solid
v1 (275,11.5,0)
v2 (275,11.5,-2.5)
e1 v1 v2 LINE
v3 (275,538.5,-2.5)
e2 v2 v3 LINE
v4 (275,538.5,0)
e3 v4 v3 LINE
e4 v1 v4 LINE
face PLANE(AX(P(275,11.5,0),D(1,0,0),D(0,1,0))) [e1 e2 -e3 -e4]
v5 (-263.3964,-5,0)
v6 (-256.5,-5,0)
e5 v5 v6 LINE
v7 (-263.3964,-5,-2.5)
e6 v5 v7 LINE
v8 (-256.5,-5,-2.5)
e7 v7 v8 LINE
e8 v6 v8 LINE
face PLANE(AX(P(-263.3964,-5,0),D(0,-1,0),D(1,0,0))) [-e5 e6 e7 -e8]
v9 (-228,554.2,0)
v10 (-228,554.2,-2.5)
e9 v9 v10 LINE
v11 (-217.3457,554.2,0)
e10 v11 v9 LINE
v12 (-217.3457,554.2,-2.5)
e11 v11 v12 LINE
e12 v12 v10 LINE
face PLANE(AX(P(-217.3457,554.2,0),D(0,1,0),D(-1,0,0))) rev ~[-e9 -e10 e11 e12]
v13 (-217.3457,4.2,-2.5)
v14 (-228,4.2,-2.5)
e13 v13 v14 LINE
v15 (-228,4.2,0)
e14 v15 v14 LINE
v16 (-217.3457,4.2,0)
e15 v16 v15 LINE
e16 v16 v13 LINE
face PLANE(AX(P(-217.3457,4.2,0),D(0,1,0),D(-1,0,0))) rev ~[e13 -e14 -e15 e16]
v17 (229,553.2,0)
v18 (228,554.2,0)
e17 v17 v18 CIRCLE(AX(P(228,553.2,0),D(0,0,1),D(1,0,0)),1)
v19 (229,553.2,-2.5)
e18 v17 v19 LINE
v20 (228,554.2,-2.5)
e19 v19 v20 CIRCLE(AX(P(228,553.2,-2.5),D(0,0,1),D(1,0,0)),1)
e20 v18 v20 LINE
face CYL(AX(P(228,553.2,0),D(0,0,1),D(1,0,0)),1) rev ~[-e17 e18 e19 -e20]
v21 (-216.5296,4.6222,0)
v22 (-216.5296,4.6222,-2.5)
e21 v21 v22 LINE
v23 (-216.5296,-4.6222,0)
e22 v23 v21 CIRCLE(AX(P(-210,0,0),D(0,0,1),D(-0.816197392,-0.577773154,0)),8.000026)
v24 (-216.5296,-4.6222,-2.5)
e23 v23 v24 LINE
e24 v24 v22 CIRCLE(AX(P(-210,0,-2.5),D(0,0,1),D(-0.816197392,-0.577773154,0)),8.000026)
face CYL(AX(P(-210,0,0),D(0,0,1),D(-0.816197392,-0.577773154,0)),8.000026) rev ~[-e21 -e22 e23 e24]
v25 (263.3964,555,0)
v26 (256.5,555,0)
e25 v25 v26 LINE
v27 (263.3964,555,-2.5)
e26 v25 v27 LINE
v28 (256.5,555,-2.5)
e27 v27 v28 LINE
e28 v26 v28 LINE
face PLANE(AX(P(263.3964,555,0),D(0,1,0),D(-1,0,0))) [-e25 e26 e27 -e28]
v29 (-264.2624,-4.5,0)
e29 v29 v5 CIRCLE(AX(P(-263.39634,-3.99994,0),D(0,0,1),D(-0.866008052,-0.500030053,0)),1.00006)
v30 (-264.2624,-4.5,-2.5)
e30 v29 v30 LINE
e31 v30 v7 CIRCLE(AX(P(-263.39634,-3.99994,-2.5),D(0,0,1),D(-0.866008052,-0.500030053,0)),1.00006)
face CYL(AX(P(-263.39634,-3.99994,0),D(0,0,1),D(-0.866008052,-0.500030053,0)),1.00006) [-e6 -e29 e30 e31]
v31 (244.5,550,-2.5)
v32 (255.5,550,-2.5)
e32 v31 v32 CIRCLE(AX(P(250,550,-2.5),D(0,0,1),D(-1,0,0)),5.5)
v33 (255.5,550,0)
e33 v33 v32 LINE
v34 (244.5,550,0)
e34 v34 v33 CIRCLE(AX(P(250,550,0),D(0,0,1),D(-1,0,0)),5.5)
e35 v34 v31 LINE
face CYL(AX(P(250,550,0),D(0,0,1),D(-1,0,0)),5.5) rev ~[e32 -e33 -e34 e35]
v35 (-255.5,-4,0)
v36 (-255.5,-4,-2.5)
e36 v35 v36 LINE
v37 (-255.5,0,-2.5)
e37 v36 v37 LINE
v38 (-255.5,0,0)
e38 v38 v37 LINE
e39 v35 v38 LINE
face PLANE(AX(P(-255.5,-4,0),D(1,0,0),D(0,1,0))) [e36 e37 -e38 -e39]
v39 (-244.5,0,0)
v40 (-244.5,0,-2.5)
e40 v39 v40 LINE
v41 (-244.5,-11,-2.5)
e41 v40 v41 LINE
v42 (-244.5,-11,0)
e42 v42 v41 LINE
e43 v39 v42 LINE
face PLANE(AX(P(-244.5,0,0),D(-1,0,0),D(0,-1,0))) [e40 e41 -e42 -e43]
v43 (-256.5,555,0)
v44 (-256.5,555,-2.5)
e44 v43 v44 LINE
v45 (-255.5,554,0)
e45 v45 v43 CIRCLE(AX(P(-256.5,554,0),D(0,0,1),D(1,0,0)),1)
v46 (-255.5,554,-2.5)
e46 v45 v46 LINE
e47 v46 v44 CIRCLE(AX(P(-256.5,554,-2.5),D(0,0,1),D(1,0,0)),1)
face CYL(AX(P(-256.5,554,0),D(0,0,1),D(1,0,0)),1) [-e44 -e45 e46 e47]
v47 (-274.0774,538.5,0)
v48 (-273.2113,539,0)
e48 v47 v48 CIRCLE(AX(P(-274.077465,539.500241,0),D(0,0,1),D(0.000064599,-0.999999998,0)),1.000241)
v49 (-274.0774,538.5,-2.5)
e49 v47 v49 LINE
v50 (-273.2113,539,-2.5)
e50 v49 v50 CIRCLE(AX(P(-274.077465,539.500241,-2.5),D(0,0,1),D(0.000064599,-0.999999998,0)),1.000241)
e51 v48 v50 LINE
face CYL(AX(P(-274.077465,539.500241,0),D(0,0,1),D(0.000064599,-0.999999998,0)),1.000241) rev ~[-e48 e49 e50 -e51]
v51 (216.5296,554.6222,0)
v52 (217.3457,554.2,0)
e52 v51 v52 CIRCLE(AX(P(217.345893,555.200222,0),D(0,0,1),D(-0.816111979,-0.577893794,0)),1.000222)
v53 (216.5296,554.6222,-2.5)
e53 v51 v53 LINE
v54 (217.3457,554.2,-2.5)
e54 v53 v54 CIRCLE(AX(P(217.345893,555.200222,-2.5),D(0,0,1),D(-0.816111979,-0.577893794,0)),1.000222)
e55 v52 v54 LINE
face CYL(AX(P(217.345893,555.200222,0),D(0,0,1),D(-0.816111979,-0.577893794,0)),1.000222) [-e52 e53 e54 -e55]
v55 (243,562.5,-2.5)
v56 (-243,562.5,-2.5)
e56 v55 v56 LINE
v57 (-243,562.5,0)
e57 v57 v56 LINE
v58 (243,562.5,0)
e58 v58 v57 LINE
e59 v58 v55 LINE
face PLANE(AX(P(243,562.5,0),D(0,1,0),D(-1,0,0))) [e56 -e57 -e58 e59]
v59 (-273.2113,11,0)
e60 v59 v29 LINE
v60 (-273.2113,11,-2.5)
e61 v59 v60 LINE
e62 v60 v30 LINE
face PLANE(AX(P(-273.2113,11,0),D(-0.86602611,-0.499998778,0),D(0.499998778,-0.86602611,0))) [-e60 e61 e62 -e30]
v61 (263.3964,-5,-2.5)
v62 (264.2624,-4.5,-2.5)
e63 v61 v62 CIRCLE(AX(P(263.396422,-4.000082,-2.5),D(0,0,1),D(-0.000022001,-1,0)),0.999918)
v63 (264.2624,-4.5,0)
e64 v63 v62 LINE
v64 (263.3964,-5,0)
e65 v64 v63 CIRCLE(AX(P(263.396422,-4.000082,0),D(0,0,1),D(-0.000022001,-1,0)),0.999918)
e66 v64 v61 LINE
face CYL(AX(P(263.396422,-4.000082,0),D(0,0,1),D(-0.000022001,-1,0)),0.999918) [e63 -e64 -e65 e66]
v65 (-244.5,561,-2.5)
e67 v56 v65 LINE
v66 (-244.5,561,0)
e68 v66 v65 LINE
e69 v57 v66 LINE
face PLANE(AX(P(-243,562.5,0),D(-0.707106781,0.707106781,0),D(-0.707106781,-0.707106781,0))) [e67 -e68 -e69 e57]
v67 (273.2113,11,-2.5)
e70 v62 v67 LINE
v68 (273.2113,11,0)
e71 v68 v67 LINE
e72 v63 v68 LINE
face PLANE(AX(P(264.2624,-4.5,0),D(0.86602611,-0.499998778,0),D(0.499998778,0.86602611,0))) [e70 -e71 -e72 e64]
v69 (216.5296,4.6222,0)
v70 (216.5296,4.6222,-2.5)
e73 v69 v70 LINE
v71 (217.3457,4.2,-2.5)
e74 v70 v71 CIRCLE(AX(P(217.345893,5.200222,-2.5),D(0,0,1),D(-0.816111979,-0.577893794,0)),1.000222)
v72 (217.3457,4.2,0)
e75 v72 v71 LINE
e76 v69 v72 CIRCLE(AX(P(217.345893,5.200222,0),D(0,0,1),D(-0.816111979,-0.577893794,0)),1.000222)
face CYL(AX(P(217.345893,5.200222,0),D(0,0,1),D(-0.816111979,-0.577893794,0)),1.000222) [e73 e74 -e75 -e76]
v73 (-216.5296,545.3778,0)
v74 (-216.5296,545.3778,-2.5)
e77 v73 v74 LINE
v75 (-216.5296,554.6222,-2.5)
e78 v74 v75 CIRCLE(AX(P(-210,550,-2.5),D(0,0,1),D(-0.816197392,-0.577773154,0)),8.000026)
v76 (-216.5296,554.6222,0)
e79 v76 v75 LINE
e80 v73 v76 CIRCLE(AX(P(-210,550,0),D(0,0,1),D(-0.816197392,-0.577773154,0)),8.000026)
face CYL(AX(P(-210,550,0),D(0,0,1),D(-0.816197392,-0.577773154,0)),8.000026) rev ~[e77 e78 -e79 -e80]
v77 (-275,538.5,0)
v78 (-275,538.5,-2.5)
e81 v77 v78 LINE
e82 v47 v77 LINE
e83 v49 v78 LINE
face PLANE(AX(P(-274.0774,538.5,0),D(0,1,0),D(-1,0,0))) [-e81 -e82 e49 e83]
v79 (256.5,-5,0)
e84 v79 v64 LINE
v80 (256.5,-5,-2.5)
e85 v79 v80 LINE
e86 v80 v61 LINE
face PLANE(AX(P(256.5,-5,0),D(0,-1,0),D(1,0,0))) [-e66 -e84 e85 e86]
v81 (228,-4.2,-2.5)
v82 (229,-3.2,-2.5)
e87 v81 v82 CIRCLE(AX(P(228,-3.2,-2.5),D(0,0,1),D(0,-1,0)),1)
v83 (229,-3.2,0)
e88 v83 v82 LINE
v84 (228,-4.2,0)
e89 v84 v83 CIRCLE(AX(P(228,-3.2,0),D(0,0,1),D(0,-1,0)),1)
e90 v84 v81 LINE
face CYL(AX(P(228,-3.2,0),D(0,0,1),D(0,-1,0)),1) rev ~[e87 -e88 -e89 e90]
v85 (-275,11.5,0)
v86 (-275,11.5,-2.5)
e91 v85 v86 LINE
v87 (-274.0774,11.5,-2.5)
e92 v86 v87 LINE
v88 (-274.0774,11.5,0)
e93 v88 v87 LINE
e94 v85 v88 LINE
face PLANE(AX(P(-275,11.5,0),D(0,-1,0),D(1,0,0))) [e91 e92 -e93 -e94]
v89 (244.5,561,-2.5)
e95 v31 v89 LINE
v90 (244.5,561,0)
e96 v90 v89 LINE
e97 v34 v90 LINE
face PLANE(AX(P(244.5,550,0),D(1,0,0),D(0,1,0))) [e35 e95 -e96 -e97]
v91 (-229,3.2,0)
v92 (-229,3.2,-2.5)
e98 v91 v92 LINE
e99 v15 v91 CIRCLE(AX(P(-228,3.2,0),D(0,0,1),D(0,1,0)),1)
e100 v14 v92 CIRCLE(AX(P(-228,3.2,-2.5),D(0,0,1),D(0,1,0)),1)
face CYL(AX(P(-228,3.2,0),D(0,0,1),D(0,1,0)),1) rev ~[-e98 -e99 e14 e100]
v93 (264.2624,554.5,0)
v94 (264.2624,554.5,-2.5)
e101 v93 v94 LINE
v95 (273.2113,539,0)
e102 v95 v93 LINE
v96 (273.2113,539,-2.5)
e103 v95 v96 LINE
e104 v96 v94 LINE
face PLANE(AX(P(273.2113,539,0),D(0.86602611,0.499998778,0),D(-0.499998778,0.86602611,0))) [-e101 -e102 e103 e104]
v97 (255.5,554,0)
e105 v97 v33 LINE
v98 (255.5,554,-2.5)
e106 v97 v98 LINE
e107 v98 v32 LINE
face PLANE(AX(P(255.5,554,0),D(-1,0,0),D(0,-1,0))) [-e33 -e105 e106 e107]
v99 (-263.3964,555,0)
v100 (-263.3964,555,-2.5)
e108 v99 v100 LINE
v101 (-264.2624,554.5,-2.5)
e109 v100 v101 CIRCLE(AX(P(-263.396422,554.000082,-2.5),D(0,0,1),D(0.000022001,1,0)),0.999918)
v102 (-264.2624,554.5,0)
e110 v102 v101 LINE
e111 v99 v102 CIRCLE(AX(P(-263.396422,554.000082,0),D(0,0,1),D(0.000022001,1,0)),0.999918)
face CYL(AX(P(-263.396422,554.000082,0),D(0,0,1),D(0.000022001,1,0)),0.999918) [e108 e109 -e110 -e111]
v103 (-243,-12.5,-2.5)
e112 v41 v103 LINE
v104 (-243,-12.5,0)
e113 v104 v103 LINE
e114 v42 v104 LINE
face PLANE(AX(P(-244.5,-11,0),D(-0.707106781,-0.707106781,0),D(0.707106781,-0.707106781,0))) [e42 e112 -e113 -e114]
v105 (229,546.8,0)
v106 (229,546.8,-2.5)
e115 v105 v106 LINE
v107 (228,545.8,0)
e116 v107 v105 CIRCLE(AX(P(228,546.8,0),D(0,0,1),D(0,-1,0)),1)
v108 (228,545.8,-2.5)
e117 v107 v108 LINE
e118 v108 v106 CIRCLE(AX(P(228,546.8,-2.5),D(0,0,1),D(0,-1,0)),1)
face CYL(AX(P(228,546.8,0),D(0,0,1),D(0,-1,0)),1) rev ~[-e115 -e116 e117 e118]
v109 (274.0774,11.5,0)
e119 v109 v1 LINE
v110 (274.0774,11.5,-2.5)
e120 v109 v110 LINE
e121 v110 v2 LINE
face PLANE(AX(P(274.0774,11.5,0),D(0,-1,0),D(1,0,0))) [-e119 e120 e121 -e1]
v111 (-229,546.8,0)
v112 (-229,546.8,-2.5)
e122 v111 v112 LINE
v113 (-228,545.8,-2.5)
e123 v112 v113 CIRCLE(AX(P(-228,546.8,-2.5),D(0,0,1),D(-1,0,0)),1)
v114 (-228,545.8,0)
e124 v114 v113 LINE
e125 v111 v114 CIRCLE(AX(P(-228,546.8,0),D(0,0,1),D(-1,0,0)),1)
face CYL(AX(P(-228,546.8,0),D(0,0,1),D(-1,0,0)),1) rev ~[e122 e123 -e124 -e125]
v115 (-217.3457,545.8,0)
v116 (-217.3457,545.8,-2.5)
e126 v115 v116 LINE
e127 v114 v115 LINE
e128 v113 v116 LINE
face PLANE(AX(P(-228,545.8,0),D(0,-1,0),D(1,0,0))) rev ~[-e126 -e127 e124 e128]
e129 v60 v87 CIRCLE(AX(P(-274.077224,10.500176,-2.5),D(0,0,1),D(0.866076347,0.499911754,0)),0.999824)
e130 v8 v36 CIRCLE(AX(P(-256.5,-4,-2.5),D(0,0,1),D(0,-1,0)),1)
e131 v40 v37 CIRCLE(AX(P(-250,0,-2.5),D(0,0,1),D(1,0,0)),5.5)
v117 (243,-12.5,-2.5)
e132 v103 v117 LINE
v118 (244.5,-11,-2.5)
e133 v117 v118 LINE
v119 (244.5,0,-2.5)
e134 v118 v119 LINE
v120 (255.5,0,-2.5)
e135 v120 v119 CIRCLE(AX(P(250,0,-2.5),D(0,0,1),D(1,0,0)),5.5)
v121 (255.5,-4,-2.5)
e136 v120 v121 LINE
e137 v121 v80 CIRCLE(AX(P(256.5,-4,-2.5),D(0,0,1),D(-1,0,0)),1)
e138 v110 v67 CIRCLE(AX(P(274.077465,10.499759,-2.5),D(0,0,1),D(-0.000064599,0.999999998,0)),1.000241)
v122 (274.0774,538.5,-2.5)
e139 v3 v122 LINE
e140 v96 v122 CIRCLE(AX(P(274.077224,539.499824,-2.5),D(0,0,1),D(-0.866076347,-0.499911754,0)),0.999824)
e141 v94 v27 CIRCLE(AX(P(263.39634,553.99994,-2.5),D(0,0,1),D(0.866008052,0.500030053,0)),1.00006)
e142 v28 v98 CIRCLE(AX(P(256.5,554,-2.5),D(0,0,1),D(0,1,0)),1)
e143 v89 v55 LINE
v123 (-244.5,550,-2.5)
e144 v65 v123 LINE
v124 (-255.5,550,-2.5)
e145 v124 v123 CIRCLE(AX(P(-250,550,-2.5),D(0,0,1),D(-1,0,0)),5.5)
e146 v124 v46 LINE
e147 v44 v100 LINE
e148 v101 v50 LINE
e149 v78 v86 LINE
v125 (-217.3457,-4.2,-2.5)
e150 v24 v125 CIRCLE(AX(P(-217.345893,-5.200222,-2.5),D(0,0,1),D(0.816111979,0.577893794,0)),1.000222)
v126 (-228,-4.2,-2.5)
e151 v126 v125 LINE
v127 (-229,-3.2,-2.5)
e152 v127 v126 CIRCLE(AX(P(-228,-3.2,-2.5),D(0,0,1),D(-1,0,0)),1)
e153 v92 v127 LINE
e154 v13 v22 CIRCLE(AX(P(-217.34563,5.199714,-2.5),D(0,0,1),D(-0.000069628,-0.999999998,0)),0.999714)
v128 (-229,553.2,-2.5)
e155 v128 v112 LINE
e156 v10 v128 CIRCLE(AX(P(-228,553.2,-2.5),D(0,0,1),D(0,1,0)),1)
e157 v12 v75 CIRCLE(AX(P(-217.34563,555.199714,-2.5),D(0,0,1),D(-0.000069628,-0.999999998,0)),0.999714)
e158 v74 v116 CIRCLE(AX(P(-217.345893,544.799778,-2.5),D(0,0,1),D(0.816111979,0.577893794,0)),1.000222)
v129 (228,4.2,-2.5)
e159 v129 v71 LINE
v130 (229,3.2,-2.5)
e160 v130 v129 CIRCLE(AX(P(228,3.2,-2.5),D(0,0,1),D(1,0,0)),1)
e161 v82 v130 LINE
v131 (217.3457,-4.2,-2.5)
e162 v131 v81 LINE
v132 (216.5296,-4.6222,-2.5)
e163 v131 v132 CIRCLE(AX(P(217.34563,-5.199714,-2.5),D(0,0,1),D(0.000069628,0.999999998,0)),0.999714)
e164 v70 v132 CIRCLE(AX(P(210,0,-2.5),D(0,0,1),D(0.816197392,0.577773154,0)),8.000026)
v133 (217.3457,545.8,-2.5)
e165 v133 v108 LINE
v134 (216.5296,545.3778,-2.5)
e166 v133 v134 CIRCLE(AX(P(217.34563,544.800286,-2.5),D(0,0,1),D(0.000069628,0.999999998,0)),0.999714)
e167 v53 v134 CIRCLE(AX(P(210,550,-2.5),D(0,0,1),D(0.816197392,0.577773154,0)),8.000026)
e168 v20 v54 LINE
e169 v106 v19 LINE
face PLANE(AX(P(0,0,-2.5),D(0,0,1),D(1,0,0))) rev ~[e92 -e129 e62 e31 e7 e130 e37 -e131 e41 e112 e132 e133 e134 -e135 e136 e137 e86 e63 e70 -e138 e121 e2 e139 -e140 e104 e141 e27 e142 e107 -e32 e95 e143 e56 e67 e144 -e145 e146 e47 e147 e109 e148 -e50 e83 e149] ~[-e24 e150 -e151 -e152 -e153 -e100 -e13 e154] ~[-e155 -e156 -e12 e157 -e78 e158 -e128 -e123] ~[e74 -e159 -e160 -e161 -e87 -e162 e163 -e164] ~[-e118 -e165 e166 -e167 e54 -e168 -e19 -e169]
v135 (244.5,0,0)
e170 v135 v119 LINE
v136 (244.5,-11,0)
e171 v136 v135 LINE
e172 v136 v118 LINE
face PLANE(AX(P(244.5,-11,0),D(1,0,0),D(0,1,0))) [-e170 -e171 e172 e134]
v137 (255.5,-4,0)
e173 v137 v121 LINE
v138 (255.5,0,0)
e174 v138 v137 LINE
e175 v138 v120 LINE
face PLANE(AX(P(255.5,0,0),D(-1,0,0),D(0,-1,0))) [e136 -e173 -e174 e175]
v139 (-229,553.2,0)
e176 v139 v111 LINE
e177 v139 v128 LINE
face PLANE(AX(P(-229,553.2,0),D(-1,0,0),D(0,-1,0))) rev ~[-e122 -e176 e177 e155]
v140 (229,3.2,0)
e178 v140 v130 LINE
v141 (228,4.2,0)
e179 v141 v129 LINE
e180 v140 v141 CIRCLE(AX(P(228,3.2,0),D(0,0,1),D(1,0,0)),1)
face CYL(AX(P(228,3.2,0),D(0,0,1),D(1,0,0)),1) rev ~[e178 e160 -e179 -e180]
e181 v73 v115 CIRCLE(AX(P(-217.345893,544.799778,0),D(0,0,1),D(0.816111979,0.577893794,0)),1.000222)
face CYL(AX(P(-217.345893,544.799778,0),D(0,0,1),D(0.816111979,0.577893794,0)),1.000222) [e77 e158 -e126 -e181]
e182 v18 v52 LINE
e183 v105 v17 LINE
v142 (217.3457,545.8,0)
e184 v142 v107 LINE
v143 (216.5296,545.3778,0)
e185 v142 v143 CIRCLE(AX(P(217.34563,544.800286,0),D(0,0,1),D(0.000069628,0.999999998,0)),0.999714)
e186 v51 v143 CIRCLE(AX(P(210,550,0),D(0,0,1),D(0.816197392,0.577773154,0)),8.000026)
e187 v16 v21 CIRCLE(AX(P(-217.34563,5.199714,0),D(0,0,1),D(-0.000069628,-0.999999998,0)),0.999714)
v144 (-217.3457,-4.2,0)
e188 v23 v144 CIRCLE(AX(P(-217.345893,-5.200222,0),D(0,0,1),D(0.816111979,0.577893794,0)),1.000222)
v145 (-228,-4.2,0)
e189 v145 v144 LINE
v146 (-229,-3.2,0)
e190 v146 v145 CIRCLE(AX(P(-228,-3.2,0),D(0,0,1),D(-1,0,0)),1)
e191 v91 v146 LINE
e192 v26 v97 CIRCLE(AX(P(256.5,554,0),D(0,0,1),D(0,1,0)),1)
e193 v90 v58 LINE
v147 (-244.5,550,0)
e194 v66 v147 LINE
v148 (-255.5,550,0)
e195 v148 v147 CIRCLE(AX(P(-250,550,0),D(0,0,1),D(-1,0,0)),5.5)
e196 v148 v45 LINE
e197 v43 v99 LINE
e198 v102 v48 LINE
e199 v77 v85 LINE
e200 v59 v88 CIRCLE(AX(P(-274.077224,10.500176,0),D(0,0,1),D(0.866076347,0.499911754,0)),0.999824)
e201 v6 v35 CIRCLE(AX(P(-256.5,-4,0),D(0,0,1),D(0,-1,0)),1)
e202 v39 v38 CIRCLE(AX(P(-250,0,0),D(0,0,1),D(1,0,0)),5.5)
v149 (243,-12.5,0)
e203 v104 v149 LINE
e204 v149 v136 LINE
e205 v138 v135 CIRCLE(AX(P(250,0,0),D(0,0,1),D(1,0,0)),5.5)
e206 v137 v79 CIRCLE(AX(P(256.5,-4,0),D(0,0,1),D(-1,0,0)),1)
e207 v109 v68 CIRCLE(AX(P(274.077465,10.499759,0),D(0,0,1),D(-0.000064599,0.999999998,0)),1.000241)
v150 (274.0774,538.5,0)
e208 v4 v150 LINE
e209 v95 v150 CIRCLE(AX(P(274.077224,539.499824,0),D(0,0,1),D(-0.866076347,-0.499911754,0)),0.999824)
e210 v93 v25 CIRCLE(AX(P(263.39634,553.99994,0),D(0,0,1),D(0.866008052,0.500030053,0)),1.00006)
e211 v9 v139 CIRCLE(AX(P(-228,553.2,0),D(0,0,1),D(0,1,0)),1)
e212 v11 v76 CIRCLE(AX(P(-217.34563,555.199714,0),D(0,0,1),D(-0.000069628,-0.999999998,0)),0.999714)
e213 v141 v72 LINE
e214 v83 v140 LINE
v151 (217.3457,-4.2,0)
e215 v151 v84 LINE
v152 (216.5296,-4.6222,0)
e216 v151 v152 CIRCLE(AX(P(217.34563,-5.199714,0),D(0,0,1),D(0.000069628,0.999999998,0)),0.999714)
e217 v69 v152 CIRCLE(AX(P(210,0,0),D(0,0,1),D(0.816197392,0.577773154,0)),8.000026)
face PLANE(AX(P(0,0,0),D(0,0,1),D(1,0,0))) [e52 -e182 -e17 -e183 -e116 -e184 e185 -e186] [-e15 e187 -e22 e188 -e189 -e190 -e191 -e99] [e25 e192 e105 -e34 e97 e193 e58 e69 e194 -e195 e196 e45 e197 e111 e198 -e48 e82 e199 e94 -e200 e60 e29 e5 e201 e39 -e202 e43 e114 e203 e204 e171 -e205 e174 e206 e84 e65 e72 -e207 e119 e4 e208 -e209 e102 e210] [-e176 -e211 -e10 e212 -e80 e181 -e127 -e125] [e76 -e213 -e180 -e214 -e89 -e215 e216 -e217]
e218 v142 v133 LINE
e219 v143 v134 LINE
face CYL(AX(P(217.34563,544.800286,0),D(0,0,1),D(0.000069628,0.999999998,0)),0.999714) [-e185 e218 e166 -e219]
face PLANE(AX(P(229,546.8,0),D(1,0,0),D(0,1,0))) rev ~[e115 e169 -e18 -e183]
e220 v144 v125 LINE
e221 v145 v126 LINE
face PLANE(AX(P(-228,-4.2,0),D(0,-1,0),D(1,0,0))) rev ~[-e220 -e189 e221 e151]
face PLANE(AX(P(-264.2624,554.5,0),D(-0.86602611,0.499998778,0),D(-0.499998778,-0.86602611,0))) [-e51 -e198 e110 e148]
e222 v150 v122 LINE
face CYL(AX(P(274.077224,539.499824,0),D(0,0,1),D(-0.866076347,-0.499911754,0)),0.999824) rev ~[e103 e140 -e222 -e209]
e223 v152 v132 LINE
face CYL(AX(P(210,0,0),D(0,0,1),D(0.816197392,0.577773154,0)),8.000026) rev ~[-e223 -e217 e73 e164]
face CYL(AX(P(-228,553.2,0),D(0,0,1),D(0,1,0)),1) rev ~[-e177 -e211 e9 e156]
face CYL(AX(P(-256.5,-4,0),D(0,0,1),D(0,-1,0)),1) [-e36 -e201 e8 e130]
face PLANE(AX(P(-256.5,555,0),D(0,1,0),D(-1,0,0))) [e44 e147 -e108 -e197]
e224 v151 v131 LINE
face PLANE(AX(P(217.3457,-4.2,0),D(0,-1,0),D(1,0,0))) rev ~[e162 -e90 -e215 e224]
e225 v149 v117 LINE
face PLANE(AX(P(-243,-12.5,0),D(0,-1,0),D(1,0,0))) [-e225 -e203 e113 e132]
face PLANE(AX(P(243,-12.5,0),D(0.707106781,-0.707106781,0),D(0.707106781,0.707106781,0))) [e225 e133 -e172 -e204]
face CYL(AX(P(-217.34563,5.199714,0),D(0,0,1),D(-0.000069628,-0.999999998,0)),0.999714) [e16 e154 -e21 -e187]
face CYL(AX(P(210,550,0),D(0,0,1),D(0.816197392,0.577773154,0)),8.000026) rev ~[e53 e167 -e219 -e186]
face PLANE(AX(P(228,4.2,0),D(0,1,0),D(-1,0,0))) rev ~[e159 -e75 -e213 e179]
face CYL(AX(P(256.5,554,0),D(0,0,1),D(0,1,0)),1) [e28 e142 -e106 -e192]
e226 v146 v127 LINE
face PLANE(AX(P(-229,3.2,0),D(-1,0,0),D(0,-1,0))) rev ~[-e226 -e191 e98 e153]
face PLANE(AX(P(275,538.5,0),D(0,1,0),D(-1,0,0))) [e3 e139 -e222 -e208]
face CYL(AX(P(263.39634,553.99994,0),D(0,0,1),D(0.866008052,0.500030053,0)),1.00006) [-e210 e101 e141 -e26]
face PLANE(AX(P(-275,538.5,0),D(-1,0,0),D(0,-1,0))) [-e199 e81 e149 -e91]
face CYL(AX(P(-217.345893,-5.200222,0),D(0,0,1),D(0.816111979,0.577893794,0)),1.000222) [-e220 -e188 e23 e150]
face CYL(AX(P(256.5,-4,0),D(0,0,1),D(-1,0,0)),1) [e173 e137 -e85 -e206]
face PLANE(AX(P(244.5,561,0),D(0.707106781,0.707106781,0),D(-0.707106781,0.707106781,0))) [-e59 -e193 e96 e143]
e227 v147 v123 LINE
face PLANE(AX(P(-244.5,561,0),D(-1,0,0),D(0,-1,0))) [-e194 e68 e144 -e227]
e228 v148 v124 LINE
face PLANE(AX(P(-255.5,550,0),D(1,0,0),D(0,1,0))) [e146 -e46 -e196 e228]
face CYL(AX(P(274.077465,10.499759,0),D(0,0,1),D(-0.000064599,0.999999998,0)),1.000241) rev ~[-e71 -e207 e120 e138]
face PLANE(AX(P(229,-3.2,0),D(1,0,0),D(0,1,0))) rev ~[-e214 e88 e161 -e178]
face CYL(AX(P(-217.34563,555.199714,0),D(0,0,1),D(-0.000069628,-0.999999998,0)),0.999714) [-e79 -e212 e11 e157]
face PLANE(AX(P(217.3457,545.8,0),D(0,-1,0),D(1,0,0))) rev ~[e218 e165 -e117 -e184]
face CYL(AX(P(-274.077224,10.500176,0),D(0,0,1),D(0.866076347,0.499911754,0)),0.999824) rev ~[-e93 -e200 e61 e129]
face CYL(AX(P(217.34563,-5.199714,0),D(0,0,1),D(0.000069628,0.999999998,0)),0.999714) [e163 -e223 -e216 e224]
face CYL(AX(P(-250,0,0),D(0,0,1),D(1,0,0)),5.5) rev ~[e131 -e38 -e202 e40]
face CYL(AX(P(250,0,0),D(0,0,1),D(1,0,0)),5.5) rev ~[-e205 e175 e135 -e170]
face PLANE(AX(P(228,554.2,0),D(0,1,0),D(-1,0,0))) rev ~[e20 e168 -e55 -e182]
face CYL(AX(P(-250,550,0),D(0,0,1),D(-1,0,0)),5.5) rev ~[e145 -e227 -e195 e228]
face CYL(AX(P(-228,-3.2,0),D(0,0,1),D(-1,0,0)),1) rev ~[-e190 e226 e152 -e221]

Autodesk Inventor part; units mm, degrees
sketch "Sketch_11" plane through (0, 0, 0) normal (0, 0, 1) x (1, 0, 0)
  line L0 (-275, 538.5) -> (-275, 11.5)
  line L1 (-275, 11.5) -> (-274.0774, 11.5)
  arc A0 (-273.2113, 11) -> (-274.0774, 11.5) centre (-274.0774, 10.5) ccw
  line L2 (-273.2113, 11) -> (-264.2624, -4.5)
  arc A1 (-264.2624, -4.5) -> (-263.3964, -5) centre (-263.3964, -4) ccw
  line L3 (-263.3964, -5) -> (-256.5, -5)
  arc A2 (-256.5, -5) -> (-255.5, -4) centre (-256.5, -4) ccw
  line L4 (-255.5, -4) -> (-255.5, 0)
  arc A3 (-244.5, 0) -> (-255.5, 0) centre (-250, 0) ccw
  line L5 (-244.5, 0) -> (-244.5, -11)
  line L6 (-244.5, -11) -> (-243, -12.5)
  line L7 (-243, -12.5) -> (243, -12.5)
  line L8 (243, -12.5) -> (244.5, -11)
  line L9 (244.5, -11) -> (244.5, 0)
  arc A4 (255.5, 0) -> (244.5, 0) centre (250, 0) ccw
  line L10 (255.5, 0) -> (255.5, -4)
  arc A5 (255.5, -4) -> (256.5, -5) centre (256.5, -4) ccw
  line L11 (256.5, -5) -> (263.3964, -5)
  arc A6 (263.3964, -5) -> (264.2624, -4.5) centre (263.3964, -4) ccw
  line L12 (264.2624, -4.5) -> (273.2113, 11)
  arc A7 (274.0774, 11.5) -> (273.2113, 11) centre (274.0774, 10.5) ccw
  line L13 (274.0774, 11.5) -> (275, 11.5)
  line L14 (275, 11.5) -> (275, 538.5)
  line L15 (275, 538.5) -> (274.0774, 538.5)
  arc A8 (273.2113, 539) -> (274.0774, 538.5) centre (274.0774, 539.5) ccw
  line L16 (273.2113, 539) -> (264.2624, 554.5)
  arc A9 (264.2624, 554.5) -> (263.3964, 555) centre (263.3964, 554) ccw
  line L17 (263.3964, 555) -> (256.5, 555)
  arc A10 (256.5, 555) -> (255.5, 554) centre (256.5, 554) ccw
  line L18 (255.5, 554) -> (255.5, 550)
  arc A11 (244.5, 550) -> (255.5, 550) centre (250, 550) ccw
  line L19 (244.5, 550) -> (244.5, 561)
  line L20 (244.5, 561) -> (243, 562.5)
  line L21 (243, 562.5) -> (-243, 562.5)
  line L22 (-243, 562.5) -> (-244.5, 561)
  line L23 (-244.5, 561) -> (-244.5, 550)
  arc A12 (-255.5, 550) -> (-244.5, 550) centre (-250, 550) ccw
  line L24 (-255.5, 550) -> (-255.5, 554)
  arc A13 (-255.5, 554) -> (-256.5, 555) centre (-256.5, 554) ccw
  line L25 (-256.5, 555) -> (-263.3964, 555)
  arc A14 (-263.3964, 555) -> (-264.2624, 554.5) centre (-263.3964, 554) ccw
  line L26 (-264.2624, 554.5) -> (-273.2113, 539)
  arc A15 (-274.0774, 538.5) -> (-273.2113, 539) centre (-274.0774, 539.5) ccw
  line L27 (-274.0774, 538.5) -> (-275, 538.5)
  arc A16 (216.5296, 4.6222) -> (216.5296, -4.6222) centre (210, 0) ccw
  arc A17 (217.3457, -4.2) -> (216.5296, -4.6222) centre (217.3457, -5.2) ccw
  line L28 (217.3457, -4.2) -> (228, -4.2)
  arc A18 (228, -4.2) -> (229, -3.2) centre (228, -3.2) ccw
  line L29 (229, -3.2) -> (229, 3.2)
  arc A19 (229, 3.2) -> (228, 4.2) centre (228, 3.2) ccw
  line L30 (228, 4.2) -> (217.3457, 4.2)
  arc A20 (216.5296, 4.6222) -> (217.3457, 4.2) centre (217.3457, 5.2) ccw
  arc A21 (216.5296, 554.6222) -> (216.5296, 545.3778) centre (210, 550) ccw
  arc A22 (217.3457, 545.8) -> (216.5296, 545.3778) centre (217.3457, 544.8) ccw
  line L31 (217.3457, 545.8) -> (228, 545.8)
  arc A23 (228, 545.8) -> (229, 546.8) centre (228, 546.8) ccw
  line L32 (229, 546.8) -> (229, 553.2)
  arc A24 (229, 553.2) -> (228, 554.2) centre (228, 553.2) ccw
  line L33 (228, 554.2) -> (217.3457, 554.2)
  arc A25 (216.5296, 554.6222) -> (217.3457, 554.2) centre (217.3457, 555.2) ccw
  line L34 (-229, 3.2) -> (-229, -3.2)
  arc A26 (-229, -3.2) -> (-228, -4.2) centre (-228, -3.2) ccw
  line L35 (-228, -4.2) -> (-217.3457, -4.2)
  arc A27 (-216.5296, -4.6222) -> (-217.3457, -4.2) centre (-217.3457, -5.2) ccw
  arc A28 (-216.5296, -4.6222) -> (-216.5296, 4.6222) centre (-210, 0) ccw
  arc A29 (-217.3457, 4.2) -> (-216.5296, 4.6222) centre (-217.3457, 5.2) ccw
  line L36 (-217.3457, 4.2) -> (-228, 4.2)
  arc A30 (-228, 4.2) -> (-229, 3.2) centre (-228, 3.2) ccw
  arc A31 (-229, 546.8) -> (-228, 545.8) centre (-228, 546.8) ccw
  line L37 (-228, 545.8) -> (-217.3457, 545.8)
  arc A32 (-216.5296, 545.3778) -> (-217.3457, 545.8) centre (-217.3457, 544.8) ccw
  arc A33 (-216.5296, 545.3778) -> (-216.5296, 554.6222) centre (-210, 550) ccw
  arc A34 (-217.3457, 554.2) -> (-216.5296, 554.6222) centre (-217.3457, 555.2) ccw
  line L38 (-217.3457, 554.2) -> (-228, 554.2)
  arc A35 (-228, 554.2) -> (-229, 553.2) centre (-228, 553.2) ccw
  line L39 (-229, 553.2) -> (-229, 546.8)
extrude "Extrusion1" add sketch "Sketch_11" against normal blind 2.5
ref_plane "MP_XY" through (0, 0, 0) normal (0, 0, 1) x (1, 0, 0)
ref_plane "MP_YZ" through (0, 0, 0) normal (1, 0, 0) x (0, 1, 0)
ref_plane "MP_ZX" through (0, 0, 0) normal (0, 1, 0) x (0, 0, 1)
ref_plane "to_EB_XY" through (224.8, 0, -2.5) normal (0, 0, 1) x (1, 0, 0)
ref_plane "to_EB_YZ" through (224.8, 0, -2.5) normal (1, 0, 0) x (0, 1, 0)
ref_plane "to_EB_ZX" through (224.8, 0, -2.5) normal (0, 1, 0) x (0, 0, 1)
properties part number "CAD_MPL_1054.000"
